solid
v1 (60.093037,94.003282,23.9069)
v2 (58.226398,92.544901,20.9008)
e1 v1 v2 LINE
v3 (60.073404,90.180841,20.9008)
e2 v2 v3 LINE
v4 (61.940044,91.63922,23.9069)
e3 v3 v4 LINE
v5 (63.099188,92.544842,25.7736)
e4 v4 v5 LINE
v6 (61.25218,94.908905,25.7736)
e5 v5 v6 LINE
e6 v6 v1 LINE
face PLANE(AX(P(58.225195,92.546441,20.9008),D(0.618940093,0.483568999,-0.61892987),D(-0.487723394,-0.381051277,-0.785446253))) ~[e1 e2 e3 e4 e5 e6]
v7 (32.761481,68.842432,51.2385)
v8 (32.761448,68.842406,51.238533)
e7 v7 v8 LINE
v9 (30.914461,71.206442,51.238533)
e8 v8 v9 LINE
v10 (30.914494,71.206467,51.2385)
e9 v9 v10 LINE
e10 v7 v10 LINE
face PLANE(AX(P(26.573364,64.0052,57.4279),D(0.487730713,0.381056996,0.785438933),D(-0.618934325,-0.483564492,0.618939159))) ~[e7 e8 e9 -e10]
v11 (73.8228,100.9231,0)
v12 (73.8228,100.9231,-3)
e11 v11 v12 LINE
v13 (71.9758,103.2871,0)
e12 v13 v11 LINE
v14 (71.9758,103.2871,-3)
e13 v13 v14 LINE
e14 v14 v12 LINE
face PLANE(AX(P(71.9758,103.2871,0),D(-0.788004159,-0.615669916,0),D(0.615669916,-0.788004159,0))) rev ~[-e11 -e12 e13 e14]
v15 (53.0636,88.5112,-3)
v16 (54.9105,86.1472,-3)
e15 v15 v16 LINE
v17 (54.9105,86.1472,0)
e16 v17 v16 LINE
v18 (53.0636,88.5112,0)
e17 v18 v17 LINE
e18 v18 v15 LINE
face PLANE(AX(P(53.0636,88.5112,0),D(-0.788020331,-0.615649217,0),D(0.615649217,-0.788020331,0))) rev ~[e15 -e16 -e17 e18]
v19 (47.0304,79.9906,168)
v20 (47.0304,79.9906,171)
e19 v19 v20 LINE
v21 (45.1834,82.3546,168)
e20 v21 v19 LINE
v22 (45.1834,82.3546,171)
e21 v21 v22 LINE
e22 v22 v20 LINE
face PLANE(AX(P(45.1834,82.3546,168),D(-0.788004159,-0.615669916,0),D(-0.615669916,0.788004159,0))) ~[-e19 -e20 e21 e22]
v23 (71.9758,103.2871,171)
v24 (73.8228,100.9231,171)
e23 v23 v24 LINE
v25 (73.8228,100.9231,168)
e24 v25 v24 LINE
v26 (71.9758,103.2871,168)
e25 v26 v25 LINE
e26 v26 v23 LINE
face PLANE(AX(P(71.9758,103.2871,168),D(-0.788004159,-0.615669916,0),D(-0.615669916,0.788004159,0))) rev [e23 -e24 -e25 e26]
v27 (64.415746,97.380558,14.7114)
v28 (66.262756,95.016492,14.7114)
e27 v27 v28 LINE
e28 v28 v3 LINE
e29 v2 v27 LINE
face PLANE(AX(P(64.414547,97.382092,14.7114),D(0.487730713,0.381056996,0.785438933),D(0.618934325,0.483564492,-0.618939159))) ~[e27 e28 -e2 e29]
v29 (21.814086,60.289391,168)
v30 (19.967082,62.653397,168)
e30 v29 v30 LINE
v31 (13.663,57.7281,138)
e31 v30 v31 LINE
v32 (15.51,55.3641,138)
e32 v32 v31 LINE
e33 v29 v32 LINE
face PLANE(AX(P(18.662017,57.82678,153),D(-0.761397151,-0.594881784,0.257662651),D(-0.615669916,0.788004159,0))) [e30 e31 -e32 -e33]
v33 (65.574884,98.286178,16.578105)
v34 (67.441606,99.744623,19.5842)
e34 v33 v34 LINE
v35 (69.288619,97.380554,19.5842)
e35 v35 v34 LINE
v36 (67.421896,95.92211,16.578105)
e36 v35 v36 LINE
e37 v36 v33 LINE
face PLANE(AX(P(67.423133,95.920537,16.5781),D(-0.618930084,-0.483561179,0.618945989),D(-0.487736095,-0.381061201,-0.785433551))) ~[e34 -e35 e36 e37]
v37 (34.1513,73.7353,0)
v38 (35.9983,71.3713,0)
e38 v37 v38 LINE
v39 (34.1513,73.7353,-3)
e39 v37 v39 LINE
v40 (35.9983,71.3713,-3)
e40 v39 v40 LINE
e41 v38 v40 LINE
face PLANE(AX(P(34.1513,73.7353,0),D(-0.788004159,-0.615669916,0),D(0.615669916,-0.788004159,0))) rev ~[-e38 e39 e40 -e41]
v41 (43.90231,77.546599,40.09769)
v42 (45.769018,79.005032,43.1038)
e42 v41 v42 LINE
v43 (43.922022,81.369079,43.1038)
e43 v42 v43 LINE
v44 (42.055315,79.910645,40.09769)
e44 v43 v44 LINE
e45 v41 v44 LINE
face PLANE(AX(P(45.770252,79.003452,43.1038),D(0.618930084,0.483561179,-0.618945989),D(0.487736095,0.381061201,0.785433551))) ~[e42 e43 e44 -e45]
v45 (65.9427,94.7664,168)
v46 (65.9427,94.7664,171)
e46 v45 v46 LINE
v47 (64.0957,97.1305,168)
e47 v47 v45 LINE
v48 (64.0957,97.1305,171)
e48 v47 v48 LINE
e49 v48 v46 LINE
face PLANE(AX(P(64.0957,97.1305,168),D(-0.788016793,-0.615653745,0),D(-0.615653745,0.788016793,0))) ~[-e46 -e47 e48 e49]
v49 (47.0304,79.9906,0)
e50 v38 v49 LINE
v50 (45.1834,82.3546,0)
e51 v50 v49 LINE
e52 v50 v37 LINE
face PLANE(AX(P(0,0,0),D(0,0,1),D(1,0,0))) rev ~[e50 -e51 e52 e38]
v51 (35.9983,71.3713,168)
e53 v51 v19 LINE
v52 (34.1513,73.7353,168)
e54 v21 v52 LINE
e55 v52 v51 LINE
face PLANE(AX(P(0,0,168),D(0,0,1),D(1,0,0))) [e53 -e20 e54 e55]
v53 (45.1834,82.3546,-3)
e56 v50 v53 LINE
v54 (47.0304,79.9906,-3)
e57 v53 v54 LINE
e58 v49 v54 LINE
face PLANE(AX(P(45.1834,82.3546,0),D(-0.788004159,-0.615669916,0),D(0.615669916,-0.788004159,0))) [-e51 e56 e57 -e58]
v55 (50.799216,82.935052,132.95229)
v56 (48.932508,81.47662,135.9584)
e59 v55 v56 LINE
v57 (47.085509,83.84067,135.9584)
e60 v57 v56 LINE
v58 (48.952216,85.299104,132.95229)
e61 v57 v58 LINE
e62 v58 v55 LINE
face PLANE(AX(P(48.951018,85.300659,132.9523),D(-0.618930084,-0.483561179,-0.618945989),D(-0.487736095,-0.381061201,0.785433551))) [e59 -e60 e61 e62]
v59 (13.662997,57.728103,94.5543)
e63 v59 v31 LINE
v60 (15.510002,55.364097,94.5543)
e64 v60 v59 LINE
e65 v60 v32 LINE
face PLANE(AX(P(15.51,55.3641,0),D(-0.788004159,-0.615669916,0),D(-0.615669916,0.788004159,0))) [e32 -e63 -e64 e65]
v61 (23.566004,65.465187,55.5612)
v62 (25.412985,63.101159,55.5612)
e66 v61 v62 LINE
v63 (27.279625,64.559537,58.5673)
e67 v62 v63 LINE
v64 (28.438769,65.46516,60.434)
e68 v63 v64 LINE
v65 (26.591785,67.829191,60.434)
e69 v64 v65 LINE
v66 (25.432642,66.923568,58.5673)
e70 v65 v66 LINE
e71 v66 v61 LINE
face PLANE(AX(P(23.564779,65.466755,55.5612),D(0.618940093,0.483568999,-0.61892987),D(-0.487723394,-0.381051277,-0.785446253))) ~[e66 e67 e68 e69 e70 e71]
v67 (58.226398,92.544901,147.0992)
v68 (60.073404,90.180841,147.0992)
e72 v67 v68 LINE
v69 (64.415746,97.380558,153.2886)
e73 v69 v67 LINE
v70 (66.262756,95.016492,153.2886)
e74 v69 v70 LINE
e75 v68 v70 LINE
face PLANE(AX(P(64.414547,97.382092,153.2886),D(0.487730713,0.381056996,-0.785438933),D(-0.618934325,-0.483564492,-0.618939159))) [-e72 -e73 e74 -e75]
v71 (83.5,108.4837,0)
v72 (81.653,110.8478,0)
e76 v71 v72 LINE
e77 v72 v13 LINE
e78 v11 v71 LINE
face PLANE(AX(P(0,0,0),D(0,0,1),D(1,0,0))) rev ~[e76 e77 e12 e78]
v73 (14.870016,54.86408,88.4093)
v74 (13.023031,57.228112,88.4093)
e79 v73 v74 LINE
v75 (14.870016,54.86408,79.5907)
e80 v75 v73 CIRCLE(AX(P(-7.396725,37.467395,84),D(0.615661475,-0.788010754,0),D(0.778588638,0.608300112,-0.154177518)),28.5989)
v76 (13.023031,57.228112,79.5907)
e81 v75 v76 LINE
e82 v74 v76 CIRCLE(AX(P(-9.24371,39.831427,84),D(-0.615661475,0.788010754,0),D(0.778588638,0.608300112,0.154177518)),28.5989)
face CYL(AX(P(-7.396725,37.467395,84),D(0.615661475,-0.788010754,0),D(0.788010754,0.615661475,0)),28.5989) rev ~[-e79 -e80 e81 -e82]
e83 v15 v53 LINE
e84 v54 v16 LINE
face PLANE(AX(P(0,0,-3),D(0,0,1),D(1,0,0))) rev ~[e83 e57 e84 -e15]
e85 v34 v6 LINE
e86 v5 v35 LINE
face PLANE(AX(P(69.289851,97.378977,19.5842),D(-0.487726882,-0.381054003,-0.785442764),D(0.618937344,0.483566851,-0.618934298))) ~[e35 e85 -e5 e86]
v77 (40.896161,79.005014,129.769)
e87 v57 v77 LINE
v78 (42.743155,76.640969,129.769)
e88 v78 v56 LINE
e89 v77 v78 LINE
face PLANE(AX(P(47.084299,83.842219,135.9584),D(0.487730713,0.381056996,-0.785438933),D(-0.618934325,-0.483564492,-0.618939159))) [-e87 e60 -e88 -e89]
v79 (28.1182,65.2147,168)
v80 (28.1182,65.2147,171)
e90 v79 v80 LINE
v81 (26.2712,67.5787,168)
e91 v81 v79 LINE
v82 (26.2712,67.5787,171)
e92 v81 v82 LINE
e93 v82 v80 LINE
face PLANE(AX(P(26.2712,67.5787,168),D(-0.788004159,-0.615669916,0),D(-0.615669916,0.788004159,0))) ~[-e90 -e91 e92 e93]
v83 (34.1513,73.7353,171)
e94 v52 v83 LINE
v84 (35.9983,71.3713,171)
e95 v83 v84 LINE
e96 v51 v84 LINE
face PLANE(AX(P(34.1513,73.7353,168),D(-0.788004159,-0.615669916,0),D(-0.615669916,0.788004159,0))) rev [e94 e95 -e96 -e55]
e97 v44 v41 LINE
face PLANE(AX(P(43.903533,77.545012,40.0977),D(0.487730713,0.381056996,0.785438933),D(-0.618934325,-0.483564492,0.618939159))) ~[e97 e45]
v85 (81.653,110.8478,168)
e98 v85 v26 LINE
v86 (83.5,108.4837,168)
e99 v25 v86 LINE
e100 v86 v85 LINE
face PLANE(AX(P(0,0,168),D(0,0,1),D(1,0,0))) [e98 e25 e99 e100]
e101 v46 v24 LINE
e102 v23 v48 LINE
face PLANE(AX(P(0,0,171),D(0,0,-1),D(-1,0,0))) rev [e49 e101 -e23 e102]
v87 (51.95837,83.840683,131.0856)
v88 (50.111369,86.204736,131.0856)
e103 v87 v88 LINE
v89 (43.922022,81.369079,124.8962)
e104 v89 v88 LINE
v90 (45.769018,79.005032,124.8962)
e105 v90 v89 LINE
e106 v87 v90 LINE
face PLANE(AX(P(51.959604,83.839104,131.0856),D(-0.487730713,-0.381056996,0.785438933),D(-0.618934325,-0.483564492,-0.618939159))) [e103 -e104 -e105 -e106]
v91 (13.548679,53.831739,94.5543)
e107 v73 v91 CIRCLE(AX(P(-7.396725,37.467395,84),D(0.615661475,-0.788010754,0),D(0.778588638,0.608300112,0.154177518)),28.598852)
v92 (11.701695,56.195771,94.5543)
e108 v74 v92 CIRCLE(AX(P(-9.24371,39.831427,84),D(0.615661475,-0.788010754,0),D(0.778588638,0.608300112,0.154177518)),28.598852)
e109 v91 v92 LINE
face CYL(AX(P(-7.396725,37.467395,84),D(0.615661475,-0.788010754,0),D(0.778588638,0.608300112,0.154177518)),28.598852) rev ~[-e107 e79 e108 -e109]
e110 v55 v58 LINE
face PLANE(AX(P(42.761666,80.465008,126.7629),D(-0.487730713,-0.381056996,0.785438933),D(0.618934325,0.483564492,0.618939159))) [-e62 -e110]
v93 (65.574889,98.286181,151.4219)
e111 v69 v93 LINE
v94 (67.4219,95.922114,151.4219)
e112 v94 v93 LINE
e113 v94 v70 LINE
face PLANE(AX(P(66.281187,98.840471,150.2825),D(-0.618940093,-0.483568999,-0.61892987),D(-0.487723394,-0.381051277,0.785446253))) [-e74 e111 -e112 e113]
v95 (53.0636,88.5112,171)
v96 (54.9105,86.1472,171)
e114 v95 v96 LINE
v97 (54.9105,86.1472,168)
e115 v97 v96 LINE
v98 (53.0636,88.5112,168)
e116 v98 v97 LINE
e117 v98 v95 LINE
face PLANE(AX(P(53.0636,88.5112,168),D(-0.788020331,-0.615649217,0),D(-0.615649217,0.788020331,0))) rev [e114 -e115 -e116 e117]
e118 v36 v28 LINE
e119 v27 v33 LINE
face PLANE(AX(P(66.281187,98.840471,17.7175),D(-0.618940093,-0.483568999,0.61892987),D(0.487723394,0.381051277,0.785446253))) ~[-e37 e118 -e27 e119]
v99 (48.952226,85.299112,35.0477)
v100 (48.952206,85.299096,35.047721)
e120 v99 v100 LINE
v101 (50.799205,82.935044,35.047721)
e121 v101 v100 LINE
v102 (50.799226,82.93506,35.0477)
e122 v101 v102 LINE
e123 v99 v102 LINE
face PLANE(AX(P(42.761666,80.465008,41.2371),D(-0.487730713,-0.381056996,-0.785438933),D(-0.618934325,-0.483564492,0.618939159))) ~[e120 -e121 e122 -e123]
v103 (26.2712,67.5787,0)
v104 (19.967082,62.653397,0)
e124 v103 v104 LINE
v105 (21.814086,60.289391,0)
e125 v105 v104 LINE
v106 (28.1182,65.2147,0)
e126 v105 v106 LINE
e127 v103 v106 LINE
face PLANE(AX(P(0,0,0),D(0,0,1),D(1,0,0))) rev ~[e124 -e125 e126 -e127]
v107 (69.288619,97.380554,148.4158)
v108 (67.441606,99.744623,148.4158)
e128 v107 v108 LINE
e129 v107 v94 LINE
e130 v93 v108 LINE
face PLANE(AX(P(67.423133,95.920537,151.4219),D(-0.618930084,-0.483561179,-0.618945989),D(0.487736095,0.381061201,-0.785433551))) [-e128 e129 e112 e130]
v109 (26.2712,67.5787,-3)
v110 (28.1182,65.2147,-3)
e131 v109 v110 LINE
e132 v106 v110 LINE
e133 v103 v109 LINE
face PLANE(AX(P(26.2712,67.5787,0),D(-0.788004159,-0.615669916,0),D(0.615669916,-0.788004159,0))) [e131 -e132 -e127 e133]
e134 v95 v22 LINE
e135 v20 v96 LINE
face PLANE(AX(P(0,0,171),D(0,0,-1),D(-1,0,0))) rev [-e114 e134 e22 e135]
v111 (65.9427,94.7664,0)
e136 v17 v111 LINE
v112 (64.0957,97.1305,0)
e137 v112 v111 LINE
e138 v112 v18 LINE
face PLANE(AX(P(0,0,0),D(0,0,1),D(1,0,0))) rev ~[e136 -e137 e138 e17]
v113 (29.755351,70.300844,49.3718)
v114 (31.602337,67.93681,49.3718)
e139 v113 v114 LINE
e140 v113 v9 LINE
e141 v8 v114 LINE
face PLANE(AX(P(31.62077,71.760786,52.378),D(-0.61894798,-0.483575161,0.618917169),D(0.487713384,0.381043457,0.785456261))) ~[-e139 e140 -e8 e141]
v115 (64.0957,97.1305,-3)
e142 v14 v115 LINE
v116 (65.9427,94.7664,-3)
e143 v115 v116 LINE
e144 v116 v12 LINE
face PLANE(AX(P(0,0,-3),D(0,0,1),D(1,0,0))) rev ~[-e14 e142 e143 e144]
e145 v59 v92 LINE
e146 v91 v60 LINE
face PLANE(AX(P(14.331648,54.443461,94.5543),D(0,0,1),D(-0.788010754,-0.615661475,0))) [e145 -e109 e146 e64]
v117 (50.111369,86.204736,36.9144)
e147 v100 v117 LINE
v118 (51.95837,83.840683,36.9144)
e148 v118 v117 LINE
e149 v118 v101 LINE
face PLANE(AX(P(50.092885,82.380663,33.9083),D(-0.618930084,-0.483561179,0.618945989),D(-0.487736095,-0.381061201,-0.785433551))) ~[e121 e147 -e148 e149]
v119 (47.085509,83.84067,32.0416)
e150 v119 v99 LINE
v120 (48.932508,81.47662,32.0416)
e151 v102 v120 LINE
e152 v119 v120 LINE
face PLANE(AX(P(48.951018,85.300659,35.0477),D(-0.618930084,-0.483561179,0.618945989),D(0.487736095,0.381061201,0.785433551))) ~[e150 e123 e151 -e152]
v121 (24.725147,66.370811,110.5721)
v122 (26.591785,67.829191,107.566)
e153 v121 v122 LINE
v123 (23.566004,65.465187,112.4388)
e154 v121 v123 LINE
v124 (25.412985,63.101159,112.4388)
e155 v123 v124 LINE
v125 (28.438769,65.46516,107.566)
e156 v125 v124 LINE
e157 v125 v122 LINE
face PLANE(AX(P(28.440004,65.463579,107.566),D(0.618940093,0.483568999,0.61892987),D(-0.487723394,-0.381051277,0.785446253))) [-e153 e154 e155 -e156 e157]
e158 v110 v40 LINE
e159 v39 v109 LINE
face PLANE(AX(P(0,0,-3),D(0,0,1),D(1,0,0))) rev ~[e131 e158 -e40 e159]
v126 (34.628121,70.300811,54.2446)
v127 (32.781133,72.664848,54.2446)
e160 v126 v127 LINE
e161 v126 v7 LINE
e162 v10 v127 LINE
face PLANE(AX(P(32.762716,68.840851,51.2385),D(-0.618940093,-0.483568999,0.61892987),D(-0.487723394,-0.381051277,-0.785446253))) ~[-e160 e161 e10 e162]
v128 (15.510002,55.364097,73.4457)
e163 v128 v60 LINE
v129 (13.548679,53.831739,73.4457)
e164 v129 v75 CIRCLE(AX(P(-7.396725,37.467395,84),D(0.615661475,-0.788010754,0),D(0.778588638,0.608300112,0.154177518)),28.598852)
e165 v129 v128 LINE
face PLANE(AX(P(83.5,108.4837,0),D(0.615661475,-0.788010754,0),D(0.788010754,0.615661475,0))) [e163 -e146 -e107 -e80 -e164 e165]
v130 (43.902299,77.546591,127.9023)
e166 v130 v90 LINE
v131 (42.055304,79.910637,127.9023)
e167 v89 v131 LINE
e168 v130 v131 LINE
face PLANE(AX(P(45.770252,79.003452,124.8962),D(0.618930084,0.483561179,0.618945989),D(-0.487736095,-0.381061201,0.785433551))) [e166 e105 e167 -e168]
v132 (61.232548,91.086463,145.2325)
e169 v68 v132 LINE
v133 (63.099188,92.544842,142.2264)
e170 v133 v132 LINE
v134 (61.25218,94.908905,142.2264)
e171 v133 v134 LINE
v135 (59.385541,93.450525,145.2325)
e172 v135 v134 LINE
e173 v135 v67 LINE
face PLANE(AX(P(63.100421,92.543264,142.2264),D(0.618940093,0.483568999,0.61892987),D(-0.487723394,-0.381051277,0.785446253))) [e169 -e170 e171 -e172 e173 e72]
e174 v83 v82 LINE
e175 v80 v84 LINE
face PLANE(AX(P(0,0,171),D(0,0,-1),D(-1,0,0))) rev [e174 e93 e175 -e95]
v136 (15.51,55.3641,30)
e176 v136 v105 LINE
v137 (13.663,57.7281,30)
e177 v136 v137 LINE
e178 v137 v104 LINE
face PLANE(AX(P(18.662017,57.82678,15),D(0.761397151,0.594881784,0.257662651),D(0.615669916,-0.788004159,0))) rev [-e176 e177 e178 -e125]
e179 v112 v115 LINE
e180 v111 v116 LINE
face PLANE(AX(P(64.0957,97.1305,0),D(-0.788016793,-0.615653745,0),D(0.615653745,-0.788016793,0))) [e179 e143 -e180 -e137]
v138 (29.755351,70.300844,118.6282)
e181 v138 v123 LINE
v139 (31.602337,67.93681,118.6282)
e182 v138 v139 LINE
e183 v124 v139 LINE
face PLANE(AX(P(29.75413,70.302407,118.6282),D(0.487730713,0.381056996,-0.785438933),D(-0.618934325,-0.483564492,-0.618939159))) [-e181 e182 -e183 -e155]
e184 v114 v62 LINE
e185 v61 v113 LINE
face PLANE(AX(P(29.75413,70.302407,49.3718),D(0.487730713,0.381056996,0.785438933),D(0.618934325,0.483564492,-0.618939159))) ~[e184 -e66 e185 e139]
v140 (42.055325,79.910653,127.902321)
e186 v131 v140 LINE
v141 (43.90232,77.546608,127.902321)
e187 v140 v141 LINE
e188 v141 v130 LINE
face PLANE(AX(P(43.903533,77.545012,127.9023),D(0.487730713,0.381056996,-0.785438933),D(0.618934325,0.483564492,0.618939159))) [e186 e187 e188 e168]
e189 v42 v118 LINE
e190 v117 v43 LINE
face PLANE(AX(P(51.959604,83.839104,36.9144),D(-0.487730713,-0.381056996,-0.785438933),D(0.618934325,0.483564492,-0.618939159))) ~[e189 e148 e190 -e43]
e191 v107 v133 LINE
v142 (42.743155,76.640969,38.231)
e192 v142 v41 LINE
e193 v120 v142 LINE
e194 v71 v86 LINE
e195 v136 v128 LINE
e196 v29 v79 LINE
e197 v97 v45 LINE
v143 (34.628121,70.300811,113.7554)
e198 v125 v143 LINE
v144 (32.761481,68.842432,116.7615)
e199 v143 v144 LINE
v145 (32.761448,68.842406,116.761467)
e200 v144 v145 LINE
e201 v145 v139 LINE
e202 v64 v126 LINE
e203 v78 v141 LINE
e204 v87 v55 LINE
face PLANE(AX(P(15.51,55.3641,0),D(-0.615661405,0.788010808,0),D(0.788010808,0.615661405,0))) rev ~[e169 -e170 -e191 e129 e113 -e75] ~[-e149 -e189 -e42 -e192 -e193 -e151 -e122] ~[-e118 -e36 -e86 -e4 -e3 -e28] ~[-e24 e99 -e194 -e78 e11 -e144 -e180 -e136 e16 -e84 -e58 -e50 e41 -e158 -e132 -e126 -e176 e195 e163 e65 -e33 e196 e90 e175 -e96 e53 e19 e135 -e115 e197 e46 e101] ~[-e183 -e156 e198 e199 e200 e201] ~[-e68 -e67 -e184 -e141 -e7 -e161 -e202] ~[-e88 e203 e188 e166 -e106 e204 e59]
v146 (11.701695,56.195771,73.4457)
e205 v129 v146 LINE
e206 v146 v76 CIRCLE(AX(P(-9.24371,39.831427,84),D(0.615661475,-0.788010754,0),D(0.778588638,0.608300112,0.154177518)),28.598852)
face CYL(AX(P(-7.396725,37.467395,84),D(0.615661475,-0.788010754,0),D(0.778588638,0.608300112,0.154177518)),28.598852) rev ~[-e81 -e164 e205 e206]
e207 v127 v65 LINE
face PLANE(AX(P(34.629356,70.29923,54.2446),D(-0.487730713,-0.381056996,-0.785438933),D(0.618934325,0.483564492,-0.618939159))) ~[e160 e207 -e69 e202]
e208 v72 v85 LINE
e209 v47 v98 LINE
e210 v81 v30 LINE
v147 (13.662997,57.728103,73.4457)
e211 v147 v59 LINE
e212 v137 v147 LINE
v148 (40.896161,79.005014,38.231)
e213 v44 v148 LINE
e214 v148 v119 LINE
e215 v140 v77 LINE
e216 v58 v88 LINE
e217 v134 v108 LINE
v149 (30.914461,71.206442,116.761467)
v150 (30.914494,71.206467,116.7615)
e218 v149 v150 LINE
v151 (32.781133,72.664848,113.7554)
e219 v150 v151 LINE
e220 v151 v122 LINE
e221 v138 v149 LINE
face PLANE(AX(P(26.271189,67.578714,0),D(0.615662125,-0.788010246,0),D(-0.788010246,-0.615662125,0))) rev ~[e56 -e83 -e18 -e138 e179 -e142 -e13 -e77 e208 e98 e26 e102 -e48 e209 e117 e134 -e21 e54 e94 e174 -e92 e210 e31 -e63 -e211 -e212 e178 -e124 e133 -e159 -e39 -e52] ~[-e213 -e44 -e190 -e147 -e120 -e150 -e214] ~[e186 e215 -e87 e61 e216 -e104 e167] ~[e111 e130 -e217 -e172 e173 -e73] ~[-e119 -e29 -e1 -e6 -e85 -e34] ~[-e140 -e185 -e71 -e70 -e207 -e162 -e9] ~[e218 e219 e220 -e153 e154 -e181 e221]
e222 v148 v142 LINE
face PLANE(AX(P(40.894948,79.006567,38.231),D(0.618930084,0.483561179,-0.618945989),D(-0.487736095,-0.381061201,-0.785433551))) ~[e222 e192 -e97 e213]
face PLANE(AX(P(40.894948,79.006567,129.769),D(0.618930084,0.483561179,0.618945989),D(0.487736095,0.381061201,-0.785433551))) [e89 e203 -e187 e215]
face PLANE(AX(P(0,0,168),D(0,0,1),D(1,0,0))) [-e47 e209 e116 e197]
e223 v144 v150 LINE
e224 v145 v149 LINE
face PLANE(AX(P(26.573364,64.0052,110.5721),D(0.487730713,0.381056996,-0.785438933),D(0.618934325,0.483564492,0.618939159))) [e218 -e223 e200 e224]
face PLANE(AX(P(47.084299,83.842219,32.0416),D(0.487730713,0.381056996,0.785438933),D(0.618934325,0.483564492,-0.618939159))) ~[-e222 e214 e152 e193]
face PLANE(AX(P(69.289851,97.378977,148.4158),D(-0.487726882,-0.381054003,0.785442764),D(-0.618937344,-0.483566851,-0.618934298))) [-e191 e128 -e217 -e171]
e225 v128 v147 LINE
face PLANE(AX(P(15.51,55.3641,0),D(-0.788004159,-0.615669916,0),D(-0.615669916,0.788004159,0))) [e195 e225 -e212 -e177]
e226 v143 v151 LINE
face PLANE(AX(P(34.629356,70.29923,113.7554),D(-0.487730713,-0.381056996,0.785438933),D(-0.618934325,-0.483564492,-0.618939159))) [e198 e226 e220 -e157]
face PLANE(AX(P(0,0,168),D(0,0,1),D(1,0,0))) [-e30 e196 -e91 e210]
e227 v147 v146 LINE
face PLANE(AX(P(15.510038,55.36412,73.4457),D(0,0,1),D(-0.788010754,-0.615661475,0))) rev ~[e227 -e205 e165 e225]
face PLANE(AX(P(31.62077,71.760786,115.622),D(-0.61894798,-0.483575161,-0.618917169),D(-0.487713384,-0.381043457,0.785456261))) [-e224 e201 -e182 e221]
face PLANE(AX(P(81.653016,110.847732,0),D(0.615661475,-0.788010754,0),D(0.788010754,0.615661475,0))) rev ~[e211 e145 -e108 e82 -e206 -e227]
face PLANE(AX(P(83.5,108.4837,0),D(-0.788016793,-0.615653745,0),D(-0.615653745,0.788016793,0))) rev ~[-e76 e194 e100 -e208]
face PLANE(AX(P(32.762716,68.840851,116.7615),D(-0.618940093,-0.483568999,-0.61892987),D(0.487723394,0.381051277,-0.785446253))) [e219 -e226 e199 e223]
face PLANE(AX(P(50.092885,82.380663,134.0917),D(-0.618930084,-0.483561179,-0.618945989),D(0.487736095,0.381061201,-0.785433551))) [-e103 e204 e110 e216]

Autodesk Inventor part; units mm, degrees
ref_plane "YZ Plane" through (0, 0, 0) normal (1, 0, 0) x (0, 1, 0)
ref_plane "XZ Plane" through (0, 0, 0) normal (0, 1, 0) x (-1, 0, 0)
sketch "Sketch1" plane through (0, 0, 0) normal (0, 0, 1) x (1, 0, 0)
  line L0 (84, 150) -> (84, -150) projected
  line L1 (-84, 150) -> (-84, -150) projected
  line L2 (-84, 150) -> (84, 150) projected
  line L3 (-15.51, 54.8641) -> (15.51, 54.8641) projected
  line L4 (0, 0) -> (0, 174.1286) construction
  line L5 (15.51, 55.3641) -> (83.5, 108.4837)
  line L6 (15.51, 54.8641) -> (15.51, 55.3641) construction
  line L7 (81.653, 110.8478) -> (13.663, 57.7281)
  line L8 (83.5, 108.4837) -> (81.653, 110.8478)
  line L9 (15.51, 55.3641) -> (13.663, 57.7281)
  line L10 (15.51, 55.3641) -> (0, 55.3641)
  line L11 (13.663, 57.7281) -> (0, 57.7281)
  line L12 (81.653, 110.8478) -> (0, 110.8478)
  line L13 (26.2712, 67.5787) -> (28.1182, 65.2147)
  line L14 (34.1513, 73.7353) -> (35.9983, 71.3713)
  line L15 (53.0636, 88.5112) -> (54.9105, 86.1472)
  line L16 (45.1834, 82.3546) -> (47.0304, 79.9906)
  line L17 (71.9758, 103.2871) -> (73.8228, 100.9231)
  line L18 (64.0957, 97.1305) -> (65.9427, 94.7664)
  dimension "d0" = 0.5
  dimension "d1" = 0.5
  dimension "d2" = 38
  dimension "d3" = 3
  dimension "d4" = 10
  dimension "d5" = 16
  dimension "d8" = 24
extrude "Extrusion1" add sketch "Sketch1" along normal blind 168
sketch "Sketch2" plane through (13.663, 57.7281, 168) normal (-0.6157, 0.788, 0) x (0.788, 0.6157, 0)
  line L0 (-3.8398, 68.49) -> (0, 70.337)
  line L1 (0, 70.337) -> (0, 65.4642)
  line L2 (0, 65.4642) -> (12.5671, 55.5612)
  line L3 (12.5671, 55.5612) -> (14.9359, 58.5673)
  line L4 (14.9359, 58.5673) -> (22.7903, 52.378)
  line L5 (22.7903, 52.378) -> (20.4215, 49.3718)
  line L6 (20.4215, 49.3718) -> (12.5671, 55.5612)
  line L7 (0, 65.4642) -> (-3.8398, 68.49)
  line L8 (20.4215, 49.3718) -> (34.5594, 38.231)
  line L9 (34.5594, 38.231) -> (36.9283, 41.2371)
  line L10 (36.9283, 41.2371) -> (44.7827, 35.0477)
  line L11 (44.7827, 35.0477) -> (42.4138, 32.0416)
  line L12 (42.4138, 32.0416) -> (34.5594, 38.231)
  line L13 (42.4138, 32.0416) -> (56.5518, 20.9008)
  line L14 (56.5518, 20.9008) -> (58.9206, 23.9069)
  line L15 (58.9206, 23.9069) -> (66.775, 17.7175)
  line L16 (66.775, 17.7175) -> (64.4062, 14.7114)
  line L17 (64.4062, 14.7114) -> (56.5518, 20.9008)
  line L18 (64.4062, 14.7114) -> (82.4407, 0.5)
  point P0 (-46.3076, 168)
sketch "Sketch4" plane through (83.5, 108.4837, 0) normal (0.6157, -0.788, 0) x (0.788, 0.6157, 0)
  line L0 (-64.3881, 116.7615) -> (-62.0193, 113.7554)
  line L1 (-62.0193, 113.7554) -> (-69.8737, 107.566)
  line L2 (-69.8737, 107.566) -> (-72.2425, 110.5721)
  line L3 (-72.2425, 110.5721) -> (-64.3881, 116.7615)
  line L4 (-42.3958, 134.0917) -> (-40.0269, 131.0856)
  line L5 (-40.0269, 131.0856) -> (-47.8813, 124.8962)
  line L6 (-47.8813, 124.8962) -> (-50.2502, 127.9023)
  line L7 (-50.2502, 127.9023) -> (-42.3958, 134.0917)
  line L8 (-20.4034, 151.4219) -> (-18.0345, 148.4158)
  line L9 (-18.0345, 148.4158) -> (-25.889, 142.2264)
  line L10 (-25.889, 142.2264) -> (-28.2578, 145.2325)
  line L11 (-28.2578, 145.2325) -> (-20.4034, 151.4219)
  point P0 (-132.5881, 0)
extrude "Extrusion2" cut sketch "Sketch4" against normal blind 10
extrude "Extrusion3" cut sketch "Sketch2" against normal blind 10 contours L14 L15 L16 L17 | L9 L10 L11 L12 | L3 L4 L5 L6
ref_plane "Work Plane1" through (0, 0, 84) normal (0, 0, 1) x (1, 0, 0)
extrude "Extrusion4" add sketch "Sketch1" against normal blind 3 contours L13 L7 L14 L5 | L16 L7 L15 L5 | L18 L7 L17 L5
mirror "Mirror1" about plane through (0, 0, 84) normal (0, 0, 1) of "Extrusion3", "Extrusion2", "Extrusion4"
sketch "Sketch5" plane through (83.5, 108.4837, 0) normal (0.6157, -0.788, 0) x (0.788, 0.6157, 0)
  arc A0 (-87.0927, 88.4093) -> (-87.0927, 79.5907) centre (-115.3496, 84) ccw
  ellipse E0 centre (-105.963, 84) end of major axis (-125.6455, 84) minor radius 15.51 (-87.0927, 88.4093) -> (-92.8236, 95.5479) ccw construction
  arc A1 (-92.8236, 95.5479) -> (-92.8236, 72.4521) centre (-115.3496, 84) ccw construction
  ellipse E1 centre (-105.963, 84) end of major axis (-125.6455, 84) minor radius 15.51 (-92.8236, 72.4521) -> (-87.0927, 79.5907) ccw construction
  ellipse E2 centre (-108.0655, 93.2437) end of major axis (-130.5282, 110.9446) minor radius 17.7588 (-109.3091, 73.4457) -> (-87.7759, 73.4457) ccw projected
  line L0 (-84.8251, 67.3112) -> (-87.7759, 73.4457) projected
  ellipse E3 centre (-108.0655, 74.7563) end of major axis (-130.5282, 57.0554) minor radius 17.7588 (-87.7759, 94.5543) -> (-109.3091, 94.5543) ccw projected
  line L1 (-84.8251, 100.6888) -> (-87.7759, 94.5543) projected
  line L2 (-86.2805, 0) -> (-86.2805, 168) projected
  line L3 (-86.2805, 73.4457) -> (-88.7695, 73.4457)
  line L4 (-86.2805, 94.5543) -> (-88.7695, 94.5543)
  circle A2 centre (-115.3496, 84) radius 28.5989
  point P0 (-132.5881, 0)
  point P1 (-87.0927, 79.5907)
  point P2 (-87.0927, 88.4093)
extrude "Extrusion5" add sketch "Sketch5" against normal up to surface (3 mm away) contours A0 L4 L2 L3 A2
chamfer "Chamfer1" distance 30 distance2 8 1 edges at (14.5865, 56.5461, 0) measured on face at (14.2787, 56.9401, 48.9638)
chamfer "Chamfer2" distance 8 distance2 30 1 edges at (14.5865, 56.5461, 168) measured on face at (18.4814, 60.2237, 168)
properties part number "Tolva_Largo"
